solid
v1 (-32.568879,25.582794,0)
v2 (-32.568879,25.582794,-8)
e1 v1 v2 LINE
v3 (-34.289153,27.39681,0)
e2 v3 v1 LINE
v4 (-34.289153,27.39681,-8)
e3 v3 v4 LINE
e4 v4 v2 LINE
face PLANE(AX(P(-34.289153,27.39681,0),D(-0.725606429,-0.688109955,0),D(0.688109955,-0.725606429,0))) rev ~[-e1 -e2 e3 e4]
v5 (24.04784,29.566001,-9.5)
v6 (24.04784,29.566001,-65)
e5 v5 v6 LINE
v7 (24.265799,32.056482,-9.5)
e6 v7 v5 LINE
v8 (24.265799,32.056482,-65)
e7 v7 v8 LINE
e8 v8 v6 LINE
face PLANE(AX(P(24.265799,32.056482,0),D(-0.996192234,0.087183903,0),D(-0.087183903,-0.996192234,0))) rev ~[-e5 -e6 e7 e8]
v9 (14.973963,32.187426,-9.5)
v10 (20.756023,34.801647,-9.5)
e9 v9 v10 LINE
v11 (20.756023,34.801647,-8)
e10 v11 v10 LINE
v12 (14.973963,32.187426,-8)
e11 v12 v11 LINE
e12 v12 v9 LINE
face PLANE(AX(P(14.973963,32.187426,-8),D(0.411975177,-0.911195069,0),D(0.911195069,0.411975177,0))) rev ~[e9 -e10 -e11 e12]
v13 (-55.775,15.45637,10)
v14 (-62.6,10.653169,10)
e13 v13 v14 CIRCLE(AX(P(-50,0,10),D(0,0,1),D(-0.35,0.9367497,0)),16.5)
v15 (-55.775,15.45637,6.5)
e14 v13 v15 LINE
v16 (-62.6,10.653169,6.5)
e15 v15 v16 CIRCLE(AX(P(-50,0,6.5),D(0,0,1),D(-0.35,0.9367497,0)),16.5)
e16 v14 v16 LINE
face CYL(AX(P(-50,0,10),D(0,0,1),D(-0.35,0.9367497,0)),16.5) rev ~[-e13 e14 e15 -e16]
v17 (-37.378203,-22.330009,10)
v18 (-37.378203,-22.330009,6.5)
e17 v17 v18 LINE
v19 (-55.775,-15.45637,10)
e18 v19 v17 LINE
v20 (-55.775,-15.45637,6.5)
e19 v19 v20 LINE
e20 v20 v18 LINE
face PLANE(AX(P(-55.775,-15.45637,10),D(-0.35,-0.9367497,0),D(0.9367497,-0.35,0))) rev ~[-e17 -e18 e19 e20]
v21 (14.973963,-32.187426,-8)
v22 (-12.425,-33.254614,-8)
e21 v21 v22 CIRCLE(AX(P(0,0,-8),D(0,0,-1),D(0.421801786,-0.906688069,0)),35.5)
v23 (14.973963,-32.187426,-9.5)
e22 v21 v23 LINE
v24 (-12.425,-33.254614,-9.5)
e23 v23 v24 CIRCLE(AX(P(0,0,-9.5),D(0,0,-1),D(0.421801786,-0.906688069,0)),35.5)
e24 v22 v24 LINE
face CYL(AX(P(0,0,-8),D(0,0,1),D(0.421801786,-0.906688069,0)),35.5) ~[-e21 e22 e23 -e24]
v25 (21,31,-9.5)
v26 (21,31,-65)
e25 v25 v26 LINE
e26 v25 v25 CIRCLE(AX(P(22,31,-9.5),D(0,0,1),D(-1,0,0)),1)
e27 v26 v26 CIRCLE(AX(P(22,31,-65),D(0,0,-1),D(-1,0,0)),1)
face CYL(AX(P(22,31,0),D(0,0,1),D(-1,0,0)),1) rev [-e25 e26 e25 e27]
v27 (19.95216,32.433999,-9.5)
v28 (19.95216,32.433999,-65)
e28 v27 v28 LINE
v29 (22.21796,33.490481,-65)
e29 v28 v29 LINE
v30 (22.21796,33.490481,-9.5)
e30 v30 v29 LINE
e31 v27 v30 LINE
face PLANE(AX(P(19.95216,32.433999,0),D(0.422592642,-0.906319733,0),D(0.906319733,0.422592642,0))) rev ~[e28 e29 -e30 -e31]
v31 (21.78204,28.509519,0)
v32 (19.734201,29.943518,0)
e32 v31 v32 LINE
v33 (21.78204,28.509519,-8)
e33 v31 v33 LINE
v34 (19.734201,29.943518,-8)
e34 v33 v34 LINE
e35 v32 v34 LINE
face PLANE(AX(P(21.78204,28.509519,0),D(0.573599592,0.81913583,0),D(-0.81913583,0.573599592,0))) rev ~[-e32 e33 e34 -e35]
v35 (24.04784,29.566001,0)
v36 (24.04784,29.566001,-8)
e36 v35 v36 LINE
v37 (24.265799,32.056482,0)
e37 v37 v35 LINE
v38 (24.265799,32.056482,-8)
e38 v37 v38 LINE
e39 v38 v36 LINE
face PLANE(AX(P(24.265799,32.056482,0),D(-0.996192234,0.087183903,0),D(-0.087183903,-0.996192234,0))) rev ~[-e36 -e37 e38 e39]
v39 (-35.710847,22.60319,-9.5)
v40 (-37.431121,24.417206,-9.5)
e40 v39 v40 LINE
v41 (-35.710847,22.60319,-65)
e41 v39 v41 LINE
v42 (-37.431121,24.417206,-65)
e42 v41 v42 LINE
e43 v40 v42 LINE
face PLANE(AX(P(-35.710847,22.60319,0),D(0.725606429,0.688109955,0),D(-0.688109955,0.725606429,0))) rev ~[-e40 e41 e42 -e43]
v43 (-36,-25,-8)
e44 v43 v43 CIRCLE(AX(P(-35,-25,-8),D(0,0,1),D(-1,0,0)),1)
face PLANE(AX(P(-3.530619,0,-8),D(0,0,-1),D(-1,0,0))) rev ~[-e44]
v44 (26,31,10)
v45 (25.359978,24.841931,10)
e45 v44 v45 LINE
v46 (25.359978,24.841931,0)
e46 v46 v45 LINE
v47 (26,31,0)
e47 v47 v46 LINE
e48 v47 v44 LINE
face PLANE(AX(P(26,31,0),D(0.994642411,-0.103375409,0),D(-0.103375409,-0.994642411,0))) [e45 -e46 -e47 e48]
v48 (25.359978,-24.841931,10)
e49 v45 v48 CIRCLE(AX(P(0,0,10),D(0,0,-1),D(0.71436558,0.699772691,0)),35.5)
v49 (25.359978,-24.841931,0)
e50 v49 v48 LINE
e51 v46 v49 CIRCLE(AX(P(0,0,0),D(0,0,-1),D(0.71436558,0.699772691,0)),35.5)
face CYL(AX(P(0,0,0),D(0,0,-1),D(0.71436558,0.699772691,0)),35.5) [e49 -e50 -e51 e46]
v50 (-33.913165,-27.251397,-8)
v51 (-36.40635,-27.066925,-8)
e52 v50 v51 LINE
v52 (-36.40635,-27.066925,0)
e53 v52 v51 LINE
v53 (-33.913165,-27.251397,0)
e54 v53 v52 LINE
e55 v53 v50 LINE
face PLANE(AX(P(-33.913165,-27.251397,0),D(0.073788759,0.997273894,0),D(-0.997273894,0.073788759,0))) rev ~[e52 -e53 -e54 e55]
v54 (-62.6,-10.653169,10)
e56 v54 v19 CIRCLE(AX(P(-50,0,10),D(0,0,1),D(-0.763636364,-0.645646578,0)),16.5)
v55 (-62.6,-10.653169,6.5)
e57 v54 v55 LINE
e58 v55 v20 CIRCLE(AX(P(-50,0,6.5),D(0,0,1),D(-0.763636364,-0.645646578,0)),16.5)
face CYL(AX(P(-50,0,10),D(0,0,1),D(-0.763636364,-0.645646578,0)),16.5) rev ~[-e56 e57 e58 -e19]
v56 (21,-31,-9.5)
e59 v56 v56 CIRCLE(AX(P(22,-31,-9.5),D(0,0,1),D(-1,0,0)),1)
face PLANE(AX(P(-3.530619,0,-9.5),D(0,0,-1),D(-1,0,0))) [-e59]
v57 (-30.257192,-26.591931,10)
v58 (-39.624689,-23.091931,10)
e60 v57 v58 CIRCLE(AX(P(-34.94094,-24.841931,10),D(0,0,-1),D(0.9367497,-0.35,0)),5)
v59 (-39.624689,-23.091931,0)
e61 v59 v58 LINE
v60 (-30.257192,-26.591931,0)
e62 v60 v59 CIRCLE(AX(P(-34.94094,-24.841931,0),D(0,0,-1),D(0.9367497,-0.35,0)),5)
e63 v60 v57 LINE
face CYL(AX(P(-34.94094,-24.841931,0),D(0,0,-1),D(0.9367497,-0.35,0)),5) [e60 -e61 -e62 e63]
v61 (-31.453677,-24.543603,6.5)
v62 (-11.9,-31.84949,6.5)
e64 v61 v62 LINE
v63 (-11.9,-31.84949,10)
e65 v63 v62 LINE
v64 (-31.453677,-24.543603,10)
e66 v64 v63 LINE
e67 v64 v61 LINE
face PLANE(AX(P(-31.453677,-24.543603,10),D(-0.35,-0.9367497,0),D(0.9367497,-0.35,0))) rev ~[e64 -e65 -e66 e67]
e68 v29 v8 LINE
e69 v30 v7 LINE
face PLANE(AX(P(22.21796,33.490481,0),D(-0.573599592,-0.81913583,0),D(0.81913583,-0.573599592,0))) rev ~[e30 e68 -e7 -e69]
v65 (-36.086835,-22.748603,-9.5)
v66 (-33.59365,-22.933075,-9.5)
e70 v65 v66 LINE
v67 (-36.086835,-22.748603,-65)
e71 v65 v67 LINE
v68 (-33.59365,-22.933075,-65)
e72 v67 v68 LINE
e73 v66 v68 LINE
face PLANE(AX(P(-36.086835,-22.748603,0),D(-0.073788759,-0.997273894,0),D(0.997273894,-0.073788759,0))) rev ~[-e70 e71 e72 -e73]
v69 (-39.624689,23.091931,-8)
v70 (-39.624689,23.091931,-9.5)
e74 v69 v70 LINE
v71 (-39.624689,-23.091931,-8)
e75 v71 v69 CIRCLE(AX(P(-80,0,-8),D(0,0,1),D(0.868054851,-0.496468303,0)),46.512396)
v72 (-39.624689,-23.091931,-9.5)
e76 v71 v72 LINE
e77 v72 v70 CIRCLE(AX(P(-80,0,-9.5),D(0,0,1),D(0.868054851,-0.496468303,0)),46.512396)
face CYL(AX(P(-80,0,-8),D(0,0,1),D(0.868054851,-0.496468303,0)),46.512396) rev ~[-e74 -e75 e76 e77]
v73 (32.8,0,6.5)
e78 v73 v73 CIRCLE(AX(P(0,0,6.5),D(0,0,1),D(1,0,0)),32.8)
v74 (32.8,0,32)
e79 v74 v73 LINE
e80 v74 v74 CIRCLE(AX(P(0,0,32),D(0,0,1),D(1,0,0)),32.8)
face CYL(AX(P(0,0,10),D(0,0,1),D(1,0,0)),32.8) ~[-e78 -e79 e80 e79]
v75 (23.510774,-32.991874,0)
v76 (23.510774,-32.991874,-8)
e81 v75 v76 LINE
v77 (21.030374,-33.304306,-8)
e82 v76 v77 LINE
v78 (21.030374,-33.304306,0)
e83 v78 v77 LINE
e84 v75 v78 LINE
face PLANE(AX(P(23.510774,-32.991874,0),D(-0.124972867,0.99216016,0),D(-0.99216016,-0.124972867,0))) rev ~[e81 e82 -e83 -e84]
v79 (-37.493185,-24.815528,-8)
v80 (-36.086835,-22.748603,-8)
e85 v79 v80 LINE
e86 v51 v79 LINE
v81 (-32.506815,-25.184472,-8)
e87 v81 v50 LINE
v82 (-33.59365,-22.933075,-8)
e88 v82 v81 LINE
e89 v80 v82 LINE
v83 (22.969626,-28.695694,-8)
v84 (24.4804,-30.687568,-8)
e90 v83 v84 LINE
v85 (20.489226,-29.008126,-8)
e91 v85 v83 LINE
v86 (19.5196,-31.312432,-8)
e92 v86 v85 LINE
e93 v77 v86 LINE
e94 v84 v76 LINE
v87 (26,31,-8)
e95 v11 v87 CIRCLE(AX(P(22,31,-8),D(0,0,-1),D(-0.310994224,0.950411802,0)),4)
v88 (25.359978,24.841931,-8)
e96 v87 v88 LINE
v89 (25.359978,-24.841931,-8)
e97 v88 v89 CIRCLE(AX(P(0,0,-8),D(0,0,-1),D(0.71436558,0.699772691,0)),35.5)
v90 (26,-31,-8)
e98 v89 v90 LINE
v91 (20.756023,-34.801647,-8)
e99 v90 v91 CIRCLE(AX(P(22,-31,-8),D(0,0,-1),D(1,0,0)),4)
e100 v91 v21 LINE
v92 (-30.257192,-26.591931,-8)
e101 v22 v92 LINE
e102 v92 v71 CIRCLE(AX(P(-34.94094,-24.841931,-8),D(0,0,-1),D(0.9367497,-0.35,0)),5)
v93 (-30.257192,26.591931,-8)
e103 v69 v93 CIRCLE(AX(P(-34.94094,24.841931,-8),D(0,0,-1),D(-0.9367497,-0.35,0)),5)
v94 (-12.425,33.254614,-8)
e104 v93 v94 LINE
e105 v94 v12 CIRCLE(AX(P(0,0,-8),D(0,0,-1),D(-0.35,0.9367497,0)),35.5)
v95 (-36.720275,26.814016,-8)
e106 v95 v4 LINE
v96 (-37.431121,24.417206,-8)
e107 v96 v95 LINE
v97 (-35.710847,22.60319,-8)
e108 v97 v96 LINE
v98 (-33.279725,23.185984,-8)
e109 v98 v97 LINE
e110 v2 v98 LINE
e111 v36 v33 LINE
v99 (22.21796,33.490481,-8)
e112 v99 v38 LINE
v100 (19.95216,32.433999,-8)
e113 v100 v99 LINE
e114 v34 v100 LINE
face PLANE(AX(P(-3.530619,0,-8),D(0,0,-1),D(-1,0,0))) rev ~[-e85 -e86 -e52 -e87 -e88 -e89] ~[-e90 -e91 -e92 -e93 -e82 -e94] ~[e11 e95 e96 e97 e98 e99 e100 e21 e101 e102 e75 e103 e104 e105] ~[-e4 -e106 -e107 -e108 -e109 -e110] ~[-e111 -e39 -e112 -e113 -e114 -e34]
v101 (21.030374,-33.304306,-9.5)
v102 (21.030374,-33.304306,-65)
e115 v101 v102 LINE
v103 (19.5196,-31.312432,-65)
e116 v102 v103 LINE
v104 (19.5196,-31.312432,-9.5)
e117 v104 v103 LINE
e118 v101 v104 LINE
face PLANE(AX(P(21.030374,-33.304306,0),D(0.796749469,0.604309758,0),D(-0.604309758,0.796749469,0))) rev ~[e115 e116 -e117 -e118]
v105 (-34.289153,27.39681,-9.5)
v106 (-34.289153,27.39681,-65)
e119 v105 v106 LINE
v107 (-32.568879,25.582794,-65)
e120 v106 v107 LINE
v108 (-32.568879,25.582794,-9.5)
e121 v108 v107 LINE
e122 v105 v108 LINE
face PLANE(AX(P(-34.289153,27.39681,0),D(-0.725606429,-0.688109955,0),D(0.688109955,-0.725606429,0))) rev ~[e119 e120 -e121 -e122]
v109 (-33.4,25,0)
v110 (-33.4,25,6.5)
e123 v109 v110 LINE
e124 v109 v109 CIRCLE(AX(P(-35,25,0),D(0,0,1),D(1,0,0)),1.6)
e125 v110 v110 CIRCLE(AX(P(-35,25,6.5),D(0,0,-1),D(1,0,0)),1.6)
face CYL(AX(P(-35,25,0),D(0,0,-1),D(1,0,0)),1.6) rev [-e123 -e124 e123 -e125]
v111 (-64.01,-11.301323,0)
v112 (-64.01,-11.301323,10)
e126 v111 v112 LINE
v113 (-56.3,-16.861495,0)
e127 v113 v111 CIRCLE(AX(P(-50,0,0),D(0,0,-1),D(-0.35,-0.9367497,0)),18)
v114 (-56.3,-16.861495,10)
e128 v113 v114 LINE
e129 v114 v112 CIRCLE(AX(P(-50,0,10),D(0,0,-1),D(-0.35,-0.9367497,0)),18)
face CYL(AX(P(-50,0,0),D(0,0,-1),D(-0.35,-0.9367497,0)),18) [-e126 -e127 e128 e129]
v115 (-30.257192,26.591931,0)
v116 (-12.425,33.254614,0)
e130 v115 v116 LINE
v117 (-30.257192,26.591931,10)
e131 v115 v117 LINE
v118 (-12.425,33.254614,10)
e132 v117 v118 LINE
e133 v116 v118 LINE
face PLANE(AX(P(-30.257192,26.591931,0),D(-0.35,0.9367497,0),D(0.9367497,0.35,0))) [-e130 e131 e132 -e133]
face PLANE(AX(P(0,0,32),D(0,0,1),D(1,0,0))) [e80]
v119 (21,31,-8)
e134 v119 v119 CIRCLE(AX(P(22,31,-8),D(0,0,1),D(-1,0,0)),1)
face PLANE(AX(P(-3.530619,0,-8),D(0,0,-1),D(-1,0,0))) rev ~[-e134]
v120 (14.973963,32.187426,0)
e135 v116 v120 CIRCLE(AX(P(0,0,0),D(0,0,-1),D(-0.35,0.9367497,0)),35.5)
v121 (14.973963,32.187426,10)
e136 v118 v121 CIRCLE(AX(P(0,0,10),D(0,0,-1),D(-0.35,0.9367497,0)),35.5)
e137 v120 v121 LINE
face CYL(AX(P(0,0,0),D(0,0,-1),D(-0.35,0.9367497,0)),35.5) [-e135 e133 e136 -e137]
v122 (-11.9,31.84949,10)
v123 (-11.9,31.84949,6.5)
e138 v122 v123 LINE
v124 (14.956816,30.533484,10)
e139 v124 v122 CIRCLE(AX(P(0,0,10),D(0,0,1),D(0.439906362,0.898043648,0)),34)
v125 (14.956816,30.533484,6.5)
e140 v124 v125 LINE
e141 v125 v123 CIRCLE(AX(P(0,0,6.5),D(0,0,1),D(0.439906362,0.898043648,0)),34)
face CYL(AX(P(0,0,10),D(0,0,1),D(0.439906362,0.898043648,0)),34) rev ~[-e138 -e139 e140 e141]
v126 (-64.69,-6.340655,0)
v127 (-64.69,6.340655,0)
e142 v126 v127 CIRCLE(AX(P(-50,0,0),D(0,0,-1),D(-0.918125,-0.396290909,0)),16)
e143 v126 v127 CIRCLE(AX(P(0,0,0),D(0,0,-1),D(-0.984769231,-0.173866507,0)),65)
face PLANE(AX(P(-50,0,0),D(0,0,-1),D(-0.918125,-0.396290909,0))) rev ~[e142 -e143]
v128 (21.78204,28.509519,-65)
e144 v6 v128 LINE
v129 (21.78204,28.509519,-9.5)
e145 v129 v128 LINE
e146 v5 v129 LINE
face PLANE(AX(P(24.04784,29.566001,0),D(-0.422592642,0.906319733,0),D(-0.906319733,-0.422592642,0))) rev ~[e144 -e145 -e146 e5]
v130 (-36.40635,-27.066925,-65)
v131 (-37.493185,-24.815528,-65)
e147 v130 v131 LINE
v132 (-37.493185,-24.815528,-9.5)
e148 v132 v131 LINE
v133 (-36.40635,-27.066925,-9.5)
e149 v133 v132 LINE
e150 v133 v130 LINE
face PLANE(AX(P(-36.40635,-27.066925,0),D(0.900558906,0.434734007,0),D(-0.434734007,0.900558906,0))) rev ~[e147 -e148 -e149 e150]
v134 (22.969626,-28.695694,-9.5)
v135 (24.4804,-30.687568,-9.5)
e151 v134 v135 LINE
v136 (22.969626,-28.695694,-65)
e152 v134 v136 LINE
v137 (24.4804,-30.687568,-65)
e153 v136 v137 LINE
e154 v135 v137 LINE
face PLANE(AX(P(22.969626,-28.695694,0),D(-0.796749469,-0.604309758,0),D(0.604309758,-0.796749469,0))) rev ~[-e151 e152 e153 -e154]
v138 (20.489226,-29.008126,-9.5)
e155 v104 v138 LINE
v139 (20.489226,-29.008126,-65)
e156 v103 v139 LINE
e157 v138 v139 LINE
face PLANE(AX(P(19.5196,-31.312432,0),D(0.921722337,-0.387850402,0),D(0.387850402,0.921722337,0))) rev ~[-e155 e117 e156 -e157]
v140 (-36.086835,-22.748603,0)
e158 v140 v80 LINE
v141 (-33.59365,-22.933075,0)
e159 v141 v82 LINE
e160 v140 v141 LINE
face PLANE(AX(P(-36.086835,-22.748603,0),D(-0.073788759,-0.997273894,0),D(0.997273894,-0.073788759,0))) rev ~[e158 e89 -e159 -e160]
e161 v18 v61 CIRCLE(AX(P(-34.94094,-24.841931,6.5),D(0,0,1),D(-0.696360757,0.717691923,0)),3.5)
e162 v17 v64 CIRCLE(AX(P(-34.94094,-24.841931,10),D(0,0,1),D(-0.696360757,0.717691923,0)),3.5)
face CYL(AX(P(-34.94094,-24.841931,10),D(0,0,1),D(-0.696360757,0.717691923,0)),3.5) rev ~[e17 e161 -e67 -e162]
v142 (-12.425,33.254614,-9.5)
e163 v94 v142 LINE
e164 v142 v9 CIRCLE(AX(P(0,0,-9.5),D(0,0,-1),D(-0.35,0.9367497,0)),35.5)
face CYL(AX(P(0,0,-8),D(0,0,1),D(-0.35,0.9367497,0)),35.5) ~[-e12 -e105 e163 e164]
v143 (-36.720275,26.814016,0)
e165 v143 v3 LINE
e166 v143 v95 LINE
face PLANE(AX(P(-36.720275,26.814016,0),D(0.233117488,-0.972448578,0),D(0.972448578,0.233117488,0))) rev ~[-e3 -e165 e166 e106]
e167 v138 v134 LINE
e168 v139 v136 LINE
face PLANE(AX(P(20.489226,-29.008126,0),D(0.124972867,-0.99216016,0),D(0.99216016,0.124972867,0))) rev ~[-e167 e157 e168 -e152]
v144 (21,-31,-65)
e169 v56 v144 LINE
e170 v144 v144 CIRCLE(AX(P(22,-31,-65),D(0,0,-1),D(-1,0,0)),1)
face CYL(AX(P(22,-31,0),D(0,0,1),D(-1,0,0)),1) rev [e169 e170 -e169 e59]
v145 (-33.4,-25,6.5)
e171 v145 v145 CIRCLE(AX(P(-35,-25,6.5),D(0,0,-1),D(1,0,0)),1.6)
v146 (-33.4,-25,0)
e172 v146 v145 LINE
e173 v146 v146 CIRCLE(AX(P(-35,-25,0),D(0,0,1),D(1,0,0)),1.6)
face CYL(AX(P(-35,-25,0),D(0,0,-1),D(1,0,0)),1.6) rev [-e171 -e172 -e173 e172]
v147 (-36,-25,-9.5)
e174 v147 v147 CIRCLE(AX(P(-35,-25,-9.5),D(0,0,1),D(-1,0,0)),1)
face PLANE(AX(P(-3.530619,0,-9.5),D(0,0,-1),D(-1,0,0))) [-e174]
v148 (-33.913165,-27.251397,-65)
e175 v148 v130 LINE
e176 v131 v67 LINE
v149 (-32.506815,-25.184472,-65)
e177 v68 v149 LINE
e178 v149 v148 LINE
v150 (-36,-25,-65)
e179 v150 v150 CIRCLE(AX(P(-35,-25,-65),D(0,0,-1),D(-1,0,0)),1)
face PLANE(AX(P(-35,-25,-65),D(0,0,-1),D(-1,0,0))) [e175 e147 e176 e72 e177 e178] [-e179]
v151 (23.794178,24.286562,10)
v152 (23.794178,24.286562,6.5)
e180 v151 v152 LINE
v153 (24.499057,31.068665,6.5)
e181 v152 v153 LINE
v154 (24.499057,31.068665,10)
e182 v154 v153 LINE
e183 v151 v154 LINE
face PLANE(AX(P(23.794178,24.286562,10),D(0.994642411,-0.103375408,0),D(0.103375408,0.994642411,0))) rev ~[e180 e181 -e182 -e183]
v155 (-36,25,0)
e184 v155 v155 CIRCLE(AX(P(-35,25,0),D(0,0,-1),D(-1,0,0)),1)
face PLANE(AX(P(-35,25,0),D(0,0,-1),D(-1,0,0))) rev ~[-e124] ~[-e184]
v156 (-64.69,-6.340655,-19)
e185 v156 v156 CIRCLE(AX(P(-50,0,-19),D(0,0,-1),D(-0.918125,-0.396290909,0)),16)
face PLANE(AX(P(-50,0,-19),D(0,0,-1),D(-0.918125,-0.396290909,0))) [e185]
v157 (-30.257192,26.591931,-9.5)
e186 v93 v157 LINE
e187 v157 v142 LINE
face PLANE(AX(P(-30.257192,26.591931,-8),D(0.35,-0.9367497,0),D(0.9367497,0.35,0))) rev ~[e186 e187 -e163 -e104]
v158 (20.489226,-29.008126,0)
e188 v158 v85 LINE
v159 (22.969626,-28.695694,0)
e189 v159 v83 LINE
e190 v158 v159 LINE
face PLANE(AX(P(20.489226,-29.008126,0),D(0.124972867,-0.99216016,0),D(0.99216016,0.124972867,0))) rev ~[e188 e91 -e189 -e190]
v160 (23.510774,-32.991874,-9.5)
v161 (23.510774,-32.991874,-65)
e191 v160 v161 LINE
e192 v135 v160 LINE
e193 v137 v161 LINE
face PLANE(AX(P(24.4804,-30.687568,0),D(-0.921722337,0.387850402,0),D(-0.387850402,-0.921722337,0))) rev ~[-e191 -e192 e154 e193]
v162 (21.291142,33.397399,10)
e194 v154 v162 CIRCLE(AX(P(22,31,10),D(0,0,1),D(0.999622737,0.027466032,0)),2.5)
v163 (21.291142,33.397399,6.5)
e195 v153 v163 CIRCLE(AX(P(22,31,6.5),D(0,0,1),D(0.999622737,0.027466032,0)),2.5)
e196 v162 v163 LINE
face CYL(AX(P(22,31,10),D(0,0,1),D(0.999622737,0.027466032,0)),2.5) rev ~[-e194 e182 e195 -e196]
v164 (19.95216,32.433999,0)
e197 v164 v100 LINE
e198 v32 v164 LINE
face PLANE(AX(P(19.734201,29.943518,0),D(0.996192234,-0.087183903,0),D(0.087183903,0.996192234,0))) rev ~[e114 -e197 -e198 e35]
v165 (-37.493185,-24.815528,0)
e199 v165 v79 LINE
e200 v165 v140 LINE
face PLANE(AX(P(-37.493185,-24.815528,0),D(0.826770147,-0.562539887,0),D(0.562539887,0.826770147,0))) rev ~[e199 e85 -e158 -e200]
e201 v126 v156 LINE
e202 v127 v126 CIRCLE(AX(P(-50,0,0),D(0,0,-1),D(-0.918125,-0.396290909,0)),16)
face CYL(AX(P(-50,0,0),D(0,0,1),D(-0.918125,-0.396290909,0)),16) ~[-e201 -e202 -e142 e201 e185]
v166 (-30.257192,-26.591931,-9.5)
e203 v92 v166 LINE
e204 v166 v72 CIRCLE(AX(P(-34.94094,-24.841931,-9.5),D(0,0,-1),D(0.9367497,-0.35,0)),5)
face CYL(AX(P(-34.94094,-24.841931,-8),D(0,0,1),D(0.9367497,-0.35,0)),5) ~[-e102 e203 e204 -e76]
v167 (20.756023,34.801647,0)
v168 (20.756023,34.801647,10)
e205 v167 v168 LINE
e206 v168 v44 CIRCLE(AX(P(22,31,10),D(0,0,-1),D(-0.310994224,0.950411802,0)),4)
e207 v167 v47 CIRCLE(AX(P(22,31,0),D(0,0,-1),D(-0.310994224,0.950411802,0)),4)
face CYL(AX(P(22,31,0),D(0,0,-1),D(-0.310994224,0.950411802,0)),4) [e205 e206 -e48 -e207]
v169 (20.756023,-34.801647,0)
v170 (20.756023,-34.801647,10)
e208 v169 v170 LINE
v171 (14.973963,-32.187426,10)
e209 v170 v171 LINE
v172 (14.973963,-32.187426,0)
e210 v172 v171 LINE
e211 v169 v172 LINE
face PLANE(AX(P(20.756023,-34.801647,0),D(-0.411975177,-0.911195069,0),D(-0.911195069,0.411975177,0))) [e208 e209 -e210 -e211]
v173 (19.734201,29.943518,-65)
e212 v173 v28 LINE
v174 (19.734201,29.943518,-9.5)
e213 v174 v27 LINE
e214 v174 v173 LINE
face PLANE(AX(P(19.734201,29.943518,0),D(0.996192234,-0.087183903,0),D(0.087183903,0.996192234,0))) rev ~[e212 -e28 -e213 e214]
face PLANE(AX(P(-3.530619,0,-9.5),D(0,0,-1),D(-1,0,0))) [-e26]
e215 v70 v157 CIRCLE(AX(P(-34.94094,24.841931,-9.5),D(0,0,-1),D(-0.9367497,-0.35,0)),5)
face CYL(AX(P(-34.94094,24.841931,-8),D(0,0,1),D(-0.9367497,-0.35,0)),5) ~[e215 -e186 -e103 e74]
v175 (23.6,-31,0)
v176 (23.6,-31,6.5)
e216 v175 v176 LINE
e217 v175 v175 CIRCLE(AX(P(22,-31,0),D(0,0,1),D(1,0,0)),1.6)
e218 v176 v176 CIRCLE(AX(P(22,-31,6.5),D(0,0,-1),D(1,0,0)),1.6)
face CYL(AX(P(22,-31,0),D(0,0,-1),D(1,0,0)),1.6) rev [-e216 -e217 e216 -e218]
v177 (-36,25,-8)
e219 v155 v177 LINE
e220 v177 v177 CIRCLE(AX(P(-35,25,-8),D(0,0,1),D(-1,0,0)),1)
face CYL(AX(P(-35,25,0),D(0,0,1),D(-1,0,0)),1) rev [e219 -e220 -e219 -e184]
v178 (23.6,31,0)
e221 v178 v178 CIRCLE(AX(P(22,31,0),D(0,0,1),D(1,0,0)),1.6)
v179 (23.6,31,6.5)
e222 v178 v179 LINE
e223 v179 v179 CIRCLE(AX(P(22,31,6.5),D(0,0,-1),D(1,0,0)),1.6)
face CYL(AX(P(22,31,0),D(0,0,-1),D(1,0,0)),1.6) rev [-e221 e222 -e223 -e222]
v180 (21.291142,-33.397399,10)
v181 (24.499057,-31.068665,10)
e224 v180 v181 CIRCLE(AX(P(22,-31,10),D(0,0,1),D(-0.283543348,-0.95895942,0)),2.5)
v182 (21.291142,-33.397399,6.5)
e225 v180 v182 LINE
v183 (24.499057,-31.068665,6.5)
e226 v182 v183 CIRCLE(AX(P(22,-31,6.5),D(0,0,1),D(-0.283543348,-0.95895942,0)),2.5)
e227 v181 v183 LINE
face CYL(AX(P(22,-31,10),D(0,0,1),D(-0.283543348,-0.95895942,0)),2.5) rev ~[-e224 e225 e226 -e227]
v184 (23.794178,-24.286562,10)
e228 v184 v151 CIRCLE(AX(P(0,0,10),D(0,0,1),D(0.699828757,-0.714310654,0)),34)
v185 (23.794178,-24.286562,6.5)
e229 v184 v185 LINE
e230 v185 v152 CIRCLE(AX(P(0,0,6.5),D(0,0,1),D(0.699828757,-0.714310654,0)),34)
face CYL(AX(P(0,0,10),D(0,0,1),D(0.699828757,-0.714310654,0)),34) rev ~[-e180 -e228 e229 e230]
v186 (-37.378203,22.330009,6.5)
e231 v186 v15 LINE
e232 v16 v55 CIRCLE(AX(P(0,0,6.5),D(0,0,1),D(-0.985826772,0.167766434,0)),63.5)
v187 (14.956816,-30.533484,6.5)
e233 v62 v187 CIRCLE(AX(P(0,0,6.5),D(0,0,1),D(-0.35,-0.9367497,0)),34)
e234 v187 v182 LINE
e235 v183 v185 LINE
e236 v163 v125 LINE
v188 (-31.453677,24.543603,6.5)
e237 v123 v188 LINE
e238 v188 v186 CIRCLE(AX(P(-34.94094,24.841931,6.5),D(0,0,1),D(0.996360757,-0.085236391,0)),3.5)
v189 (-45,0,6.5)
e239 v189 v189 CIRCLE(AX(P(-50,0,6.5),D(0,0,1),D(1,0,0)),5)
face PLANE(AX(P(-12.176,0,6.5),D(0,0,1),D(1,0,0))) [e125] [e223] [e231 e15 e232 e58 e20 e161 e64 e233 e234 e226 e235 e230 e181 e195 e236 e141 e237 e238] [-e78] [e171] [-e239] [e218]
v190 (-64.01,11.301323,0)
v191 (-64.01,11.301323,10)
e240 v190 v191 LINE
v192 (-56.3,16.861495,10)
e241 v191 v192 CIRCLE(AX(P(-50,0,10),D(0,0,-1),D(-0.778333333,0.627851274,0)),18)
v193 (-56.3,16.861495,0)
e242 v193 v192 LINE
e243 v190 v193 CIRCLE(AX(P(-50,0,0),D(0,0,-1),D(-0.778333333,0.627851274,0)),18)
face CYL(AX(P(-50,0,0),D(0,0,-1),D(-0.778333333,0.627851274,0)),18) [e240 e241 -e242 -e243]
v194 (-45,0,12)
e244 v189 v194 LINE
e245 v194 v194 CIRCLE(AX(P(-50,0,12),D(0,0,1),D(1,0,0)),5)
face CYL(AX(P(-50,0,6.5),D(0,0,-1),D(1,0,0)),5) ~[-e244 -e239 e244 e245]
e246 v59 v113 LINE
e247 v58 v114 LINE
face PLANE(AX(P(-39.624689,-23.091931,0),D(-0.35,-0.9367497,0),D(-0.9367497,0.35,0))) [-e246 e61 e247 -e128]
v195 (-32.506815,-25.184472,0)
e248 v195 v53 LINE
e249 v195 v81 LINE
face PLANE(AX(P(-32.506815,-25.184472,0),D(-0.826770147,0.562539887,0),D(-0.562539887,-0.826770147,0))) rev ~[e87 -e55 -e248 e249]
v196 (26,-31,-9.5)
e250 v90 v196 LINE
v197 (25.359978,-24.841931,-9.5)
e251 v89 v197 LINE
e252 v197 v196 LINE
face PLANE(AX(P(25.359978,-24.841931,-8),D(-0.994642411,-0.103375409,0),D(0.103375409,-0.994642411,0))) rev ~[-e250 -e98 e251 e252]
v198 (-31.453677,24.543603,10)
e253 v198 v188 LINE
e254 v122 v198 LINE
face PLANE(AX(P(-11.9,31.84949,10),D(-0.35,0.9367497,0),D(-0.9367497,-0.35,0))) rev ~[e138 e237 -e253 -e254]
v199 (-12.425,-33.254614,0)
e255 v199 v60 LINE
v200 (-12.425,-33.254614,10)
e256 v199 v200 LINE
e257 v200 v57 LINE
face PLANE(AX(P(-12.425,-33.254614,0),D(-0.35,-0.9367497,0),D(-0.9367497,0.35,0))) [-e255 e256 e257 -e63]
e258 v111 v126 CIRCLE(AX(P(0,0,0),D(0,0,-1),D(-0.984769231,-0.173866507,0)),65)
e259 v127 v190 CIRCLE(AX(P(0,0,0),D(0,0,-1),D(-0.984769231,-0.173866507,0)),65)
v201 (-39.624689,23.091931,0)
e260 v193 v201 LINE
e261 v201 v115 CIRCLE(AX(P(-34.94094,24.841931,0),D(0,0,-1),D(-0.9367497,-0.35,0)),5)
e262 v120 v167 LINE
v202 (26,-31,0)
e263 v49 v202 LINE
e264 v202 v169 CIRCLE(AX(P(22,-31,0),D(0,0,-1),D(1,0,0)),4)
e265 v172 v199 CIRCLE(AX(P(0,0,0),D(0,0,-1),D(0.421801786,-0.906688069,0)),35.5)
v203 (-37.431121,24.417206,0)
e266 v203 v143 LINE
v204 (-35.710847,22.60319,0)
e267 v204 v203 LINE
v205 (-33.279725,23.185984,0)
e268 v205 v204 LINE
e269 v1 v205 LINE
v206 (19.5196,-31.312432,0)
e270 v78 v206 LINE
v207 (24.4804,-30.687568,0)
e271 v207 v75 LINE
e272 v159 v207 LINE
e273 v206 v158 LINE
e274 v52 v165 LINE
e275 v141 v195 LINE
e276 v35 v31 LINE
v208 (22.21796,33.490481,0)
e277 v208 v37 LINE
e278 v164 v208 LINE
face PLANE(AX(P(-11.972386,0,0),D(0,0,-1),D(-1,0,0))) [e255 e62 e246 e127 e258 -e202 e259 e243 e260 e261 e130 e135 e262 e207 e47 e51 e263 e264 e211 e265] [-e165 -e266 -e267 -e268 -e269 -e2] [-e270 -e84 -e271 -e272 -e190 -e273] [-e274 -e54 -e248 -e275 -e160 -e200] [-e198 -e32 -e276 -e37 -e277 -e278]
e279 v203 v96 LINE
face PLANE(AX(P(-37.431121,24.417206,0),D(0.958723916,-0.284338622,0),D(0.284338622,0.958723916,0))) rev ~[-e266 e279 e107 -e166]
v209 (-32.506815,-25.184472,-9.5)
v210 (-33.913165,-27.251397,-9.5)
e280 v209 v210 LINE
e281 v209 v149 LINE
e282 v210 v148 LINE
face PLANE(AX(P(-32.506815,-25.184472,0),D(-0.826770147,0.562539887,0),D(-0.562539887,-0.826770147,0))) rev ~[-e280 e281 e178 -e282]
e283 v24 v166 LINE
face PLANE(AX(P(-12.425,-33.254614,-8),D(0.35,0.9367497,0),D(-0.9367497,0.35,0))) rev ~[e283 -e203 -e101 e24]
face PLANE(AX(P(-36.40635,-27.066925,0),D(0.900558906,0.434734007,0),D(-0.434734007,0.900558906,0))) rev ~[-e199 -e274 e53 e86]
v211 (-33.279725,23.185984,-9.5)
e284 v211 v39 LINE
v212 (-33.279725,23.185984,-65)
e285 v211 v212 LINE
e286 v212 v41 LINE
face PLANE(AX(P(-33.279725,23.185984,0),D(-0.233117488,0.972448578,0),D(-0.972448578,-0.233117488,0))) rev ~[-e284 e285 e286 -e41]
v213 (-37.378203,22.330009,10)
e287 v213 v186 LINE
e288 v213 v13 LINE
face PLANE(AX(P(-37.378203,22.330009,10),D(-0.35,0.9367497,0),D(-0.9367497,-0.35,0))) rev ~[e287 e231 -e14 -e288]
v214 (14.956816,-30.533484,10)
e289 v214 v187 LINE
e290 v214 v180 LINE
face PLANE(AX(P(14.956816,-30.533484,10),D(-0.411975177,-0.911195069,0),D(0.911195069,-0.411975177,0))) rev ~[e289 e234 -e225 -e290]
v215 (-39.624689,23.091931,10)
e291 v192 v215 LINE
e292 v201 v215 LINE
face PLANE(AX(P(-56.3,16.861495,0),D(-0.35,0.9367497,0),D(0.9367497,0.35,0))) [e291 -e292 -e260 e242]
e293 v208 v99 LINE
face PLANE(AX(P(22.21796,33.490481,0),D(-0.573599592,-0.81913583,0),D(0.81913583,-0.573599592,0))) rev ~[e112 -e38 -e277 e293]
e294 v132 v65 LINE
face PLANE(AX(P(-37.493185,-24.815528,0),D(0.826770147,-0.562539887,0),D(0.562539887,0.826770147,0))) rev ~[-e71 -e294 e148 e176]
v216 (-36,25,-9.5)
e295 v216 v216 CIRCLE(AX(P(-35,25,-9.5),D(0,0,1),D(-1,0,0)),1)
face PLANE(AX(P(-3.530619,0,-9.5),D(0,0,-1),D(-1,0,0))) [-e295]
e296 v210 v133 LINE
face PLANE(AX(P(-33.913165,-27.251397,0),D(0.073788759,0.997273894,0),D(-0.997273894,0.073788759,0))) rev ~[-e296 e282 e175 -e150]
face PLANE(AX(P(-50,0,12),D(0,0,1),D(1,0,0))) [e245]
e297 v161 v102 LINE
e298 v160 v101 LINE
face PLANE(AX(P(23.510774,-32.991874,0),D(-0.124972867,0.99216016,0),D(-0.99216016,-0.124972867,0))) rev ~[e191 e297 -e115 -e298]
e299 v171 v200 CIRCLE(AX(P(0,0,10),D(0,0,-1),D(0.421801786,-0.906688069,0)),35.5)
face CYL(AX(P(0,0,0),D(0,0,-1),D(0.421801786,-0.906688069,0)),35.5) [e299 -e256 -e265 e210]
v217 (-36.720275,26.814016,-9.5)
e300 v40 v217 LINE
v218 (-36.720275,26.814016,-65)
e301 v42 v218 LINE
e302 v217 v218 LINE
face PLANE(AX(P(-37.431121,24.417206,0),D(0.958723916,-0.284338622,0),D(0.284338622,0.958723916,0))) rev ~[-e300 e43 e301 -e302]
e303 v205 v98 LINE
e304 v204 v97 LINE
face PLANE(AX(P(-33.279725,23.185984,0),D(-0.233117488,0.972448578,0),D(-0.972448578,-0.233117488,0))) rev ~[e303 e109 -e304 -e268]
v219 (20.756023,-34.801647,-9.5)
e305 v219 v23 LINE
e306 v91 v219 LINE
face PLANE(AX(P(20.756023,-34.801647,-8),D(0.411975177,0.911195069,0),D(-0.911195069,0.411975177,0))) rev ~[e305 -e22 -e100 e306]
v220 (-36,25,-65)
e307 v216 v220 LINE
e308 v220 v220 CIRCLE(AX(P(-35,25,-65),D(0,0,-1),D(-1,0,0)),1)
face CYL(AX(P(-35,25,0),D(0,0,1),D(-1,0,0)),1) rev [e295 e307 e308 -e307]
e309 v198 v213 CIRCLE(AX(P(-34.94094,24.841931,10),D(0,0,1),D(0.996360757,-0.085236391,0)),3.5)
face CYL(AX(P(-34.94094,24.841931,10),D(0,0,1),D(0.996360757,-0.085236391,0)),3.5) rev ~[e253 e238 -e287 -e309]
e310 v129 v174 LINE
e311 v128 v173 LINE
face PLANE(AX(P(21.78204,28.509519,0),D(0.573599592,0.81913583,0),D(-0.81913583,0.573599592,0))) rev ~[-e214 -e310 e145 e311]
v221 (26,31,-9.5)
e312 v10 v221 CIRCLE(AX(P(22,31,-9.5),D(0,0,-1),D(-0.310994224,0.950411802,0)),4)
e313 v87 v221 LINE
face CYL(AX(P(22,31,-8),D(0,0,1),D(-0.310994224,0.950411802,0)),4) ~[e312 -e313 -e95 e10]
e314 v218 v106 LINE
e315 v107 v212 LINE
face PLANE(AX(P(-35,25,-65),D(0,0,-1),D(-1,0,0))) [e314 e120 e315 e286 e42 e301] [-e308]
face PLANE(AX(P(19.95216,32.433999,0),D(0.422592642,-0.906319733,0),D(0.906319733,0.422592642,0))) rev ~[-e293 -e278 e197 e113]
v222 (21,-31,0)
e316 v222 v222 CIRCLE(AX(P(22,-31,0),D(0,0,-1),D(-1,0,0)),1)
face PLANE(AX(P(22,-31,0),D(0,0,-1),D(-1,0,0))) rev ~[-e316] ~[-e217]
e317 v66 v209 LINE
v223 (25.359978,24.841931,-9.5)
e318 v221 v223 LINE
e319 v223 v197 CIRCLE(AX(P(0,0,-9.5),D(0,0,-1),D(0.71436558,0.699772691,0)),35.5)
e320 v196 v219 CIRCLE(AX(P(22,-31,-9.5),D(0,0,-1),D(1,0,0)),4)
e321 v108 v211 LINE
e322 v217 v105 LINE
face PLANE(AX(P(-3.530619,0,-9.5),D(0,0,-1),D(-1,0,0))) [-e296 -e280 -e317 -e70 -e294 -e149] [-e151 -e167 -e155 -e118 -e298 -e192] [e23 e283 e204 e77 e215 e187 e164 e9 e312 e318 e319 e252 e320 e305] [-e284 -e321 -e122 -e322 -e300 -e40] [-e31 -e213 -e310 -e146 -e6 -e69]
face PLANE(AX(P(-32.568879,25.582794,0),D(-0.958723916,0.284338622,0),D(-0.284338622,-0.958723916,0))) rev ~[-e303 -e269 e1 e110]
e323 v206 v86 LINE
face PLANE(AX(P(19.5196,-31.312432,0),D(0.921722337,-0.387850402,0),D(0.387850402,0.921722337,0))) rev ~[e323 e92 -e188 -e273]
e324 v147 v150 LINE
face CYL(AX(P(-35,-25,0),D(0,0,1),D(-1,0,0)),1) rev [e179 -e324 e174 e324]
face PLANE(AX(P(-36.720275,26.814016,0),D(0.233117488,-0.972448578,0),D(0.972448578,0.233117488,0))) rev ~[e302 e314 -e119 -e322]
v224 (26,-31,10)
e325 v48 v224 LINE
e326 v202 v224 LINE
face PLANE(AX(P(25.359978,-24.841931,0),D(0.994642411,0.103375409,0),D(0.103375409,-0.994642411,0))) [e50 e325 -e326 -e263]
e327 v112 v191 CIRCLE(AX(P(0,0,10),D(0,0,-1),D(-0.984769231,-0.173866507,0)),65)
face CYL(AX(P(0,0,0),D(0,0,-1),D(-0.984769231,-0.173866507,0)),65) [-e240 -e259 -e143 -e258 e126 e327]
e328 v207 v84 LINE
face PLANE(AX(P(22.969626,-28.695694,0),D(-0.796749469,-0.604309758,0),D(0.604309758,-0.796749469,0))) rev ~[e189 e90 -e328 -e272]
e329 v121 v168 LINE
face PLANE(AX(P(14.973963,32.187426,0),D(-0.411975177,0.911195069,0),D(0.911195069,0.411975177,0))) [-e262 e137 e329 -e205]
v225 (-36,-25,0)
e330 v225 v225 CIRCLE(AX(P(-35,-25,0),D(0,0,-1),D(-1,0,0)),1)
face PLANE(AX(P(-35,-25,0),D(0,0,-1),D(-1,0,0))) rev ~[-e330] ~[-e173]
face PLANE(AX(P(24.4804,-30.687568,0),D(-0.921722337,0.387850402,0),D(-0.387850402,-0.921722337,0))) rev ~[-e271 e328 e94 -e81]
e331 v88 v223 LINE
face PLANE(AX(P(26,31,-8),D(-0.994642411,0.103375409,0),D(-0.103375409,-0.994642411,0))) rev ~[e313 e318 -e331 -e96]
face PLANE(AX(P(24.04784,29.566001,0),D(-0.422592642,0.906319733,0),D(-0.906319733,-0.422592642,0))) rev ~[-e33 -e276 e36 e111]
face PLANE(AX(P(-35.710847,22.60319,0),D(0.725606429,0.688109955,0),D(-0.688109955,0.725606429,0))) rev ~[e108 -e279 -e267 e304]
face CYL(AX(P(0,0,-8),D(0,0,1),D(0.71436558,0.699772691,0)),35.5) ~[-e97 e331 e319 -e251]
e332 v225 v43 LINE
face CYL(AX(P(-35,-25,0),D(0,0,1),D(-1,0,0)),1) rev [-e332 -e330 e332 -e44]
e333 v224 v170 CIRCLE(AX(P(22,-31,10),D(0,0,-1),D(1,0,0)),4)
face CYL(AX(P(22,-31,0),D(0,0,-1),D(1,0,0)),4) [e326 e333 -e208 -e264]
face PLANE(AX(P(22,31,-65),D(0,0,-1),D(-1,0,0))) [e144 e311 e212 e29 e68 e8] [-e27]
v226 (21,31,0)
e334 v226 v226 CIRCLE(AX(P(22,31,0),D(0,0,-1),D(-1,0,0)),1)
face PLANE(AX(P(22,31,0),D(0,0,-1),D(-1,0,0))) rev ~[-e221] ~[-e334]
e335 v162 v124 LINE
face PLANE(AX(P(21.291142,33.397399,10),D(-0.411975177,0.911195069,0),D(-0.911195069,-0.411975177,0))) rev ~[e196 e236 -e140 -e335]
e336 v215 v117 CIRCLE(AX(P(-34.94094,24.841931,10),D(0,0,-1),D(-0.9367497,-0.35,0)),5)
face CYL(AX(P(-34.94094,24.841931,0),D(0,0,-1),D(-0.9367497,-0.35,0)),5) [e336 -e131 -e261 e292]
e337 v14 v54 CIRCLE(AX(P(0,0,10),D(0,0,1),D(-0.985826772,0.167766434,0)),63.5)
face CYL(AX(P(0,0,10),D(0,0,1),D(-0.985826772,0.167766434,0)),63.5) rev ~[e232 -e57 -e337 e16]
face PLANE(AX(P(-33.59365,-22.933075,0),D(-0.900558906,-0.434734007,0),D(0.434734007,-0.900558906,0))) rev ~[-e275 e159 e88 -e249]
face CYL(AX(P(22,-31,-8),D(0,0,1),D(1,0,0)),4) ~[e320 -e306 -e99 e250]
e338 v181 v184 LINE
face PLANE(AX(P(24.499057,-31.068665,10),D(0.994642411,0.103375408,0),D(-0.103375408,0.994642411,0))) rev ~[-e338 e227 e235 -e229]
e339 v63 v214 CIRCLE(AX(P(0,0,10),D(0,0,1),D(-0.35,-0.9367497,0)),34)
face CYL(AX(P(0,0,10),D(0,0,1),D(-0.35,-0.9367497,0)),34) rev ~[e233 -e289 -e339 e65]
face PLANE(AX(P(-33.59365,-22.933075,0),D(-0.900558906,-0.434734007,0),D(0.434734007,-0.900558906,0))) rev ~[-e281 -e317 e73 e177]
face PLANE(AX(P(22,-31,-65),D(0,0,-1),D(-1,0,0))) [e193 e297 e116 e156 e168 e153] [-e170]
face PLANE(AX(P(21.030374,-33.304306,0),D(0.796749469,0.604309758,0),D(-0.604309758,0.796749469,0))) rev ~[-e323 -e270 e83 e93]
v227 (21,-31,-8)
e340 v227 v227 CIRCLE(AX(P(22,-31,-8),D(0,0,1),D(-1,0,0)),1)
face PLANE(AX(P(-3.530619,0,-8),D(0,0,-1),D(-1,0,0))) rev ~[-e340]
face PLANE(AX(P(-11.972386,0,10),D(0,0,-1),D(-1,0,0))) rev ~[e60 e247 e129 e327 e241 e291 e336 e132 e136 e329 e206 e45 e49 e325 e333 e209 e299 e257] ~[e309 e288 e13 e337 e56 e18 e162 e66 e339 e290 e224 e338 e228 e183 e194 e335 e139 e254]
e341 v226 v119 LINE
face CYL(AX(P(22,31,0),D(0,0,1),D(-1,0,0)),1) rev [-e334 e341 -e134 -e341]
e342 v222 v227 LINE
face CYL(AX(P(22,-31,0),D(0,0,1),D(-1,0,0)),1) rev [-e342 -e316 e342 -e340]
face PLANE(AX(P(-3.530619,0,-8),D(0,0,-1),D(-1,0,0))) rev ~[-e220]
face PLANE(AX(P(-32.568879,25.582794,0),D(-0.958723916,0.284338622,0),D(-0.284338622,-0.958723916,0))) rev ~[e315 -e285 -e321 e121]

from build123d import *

# Parameters (mm, degrees)
ESQUISSE1_R             = 1.6
BOSS_EXTRU_1_DEPTH      = 10
ESQUISSE2_R             = 32.8
BOSS_EXTRU_2_DEPTH      = 22
ENL_V_MAT_EXTRU_1_DEPTH = 3.5
BOSS_EXTRU_3_REACH      = 79.261
ESQUISSE4_R             = 32.8
ESQUISSE5_R             = 16
BOSS_EXTRU_4_DEPTH      = 19
ESQUISSE6_R             = 1
BOSS_EXTRU_5_DEPTH      = 65
BOSS_EXTRU_6_DEPTH      = 1.5
ESQUISSE8_R             = 5
BOSS_EXTRU_7_DEPTH      = 5.5


with BuildPart() as part:
    # Esquisse1 → Boss.-Extru.1 (new body)
    with BuildSketch(Plane.XY):
        with BuildLine():
            ThreePointArc((-56.3, -16.861494596), (-60.528670487, -14.599558136), (-64.01, -11.301322931))
            ThreePointArc((-64.01, -11.301322931), (-65, 0), (-64.01, 11.301322931))
            ThreePointArc((-64.01, 11.301322931), (-60.528670487, 14.599558136), (-56.3, 16.861494596))
            Line((-56.3, 16.861494596), (-39.624688626, 23.091930519))
            ThreePointArc((-39.624688626, 23.091930519), (-36.690940127, 29.525679018), (-30.257191628, 26.591930519))
            Line((-30.257191628, 26.591930519), (-12.425, 33.254614341))
            ThreePointArc((-12.425, 33.254614341), (1.381675102, 35.473102119), (14.973963383, 32.187426436))
            Line((14.973963383, 32.187426436), (20.756023105, 34.801647207))
            ThreePointArc((20.756023105, 34.801647207), (24.347774736, 34.238511045), (26, 31))
            Line((26, 31), (25.359978077, 24.841930519))
            ThreePointArc((25.359978077, 24.841930519), (35.5, 0), (25.359978077, -24.841930519))
            Line((25.359978077, -24.841930519), (26, -31))
            ThreePointArc((26, -31), (24.347774736, -34.238511045), (20.756023105, -34.801647207))
            Line((20.756023105, -34.801647207), (14.973963383, -32.187426436))
            ThreePointArc((14.973963383, -32.187426436), (1.381675102, -35.473102119), (-12.425, -33.254614341))
            Line((-12.425, -33.254614341), (-30.257191628, -26.591930519))
            ThreePointArc((-30.257191628, -26.591930519), (-36.690940127, -29.525679018), (-39.624688626, -23.091930519))
            Line((-39.624688626, -23.091930519), (-56.3, -16.861494596))
        make_face()
        with Locations((-35, -25)):
            Circle(ESQUISSE1_R, mode=Mode.SUBTRACT)
        with Locations((22, 31)):
            Circle(ESQUISSE1_R, mode=Mode.SUBTRACT)
        with Locations((-35, 25)):
            Circle(ESQUISSE1_R, mode=Mode.SUBTRACT)
        with Locations((22, -31)):
            Circle(ESQUISSE1_R, mode=Mode.SUBTRACT)
    extrude(amount=BOSS_EXTRU_1_DEPTH)

    # Esquisse2 → Boss.-Extru.2 (add)
    with BuildSketch(Plane.XY.offset(10)):
        Circle(ESQUISSE2_R)
    extrude(amount=BOSS_EXTRU_2_DEPTH)

    # Esquisse3 → Enlèv. mat.-Extru.1 (cut)
    with BuildSketch(Plane.XY.offset(10)):
        with BuildLine():
            Line((-55.775, -15.456370046), (-37.378202776, -22.330008789))
            ThreePointArc((-37.378202776, -22.330008789), (-36.165940127, -28.120554469), (-31.453677478, -24.543603151))
            Line((-31.453677478, -24.543603151), (-11.9, -31.849489792))
            ThreePointArc((-11.9, -31.849489792), (1.664031028, -33.959255009), (14.956816294, -30.533484019))
            Line((14.956816294, -30.533484019), (21.291141631, -33.397398551))
            ThreePointArc((21.291141631, -33.397398551), (23.468656713, -33.023128137), (24.499056843, -31.06866508))
            Line((24.499056843, -31.06866508), (23.79417774, -24.286562245))
            ThreePointArc((23.79417774, -24.286562245), (34, 0), (23.79417774, 24.286562245))
            Line((23.79417774, 24.286562245), (24.499056843, 31.06866508))
            ThreePointArc((24.499056843, 31.06866508), (23.468656713, 33.023128137), (21.291141631, 33.397398551))
            Line((21.291141631, 33.397398551), (14.956816294, 30.533484019))
            ThreePointArc((14.956816294, 30.533484019), (1.664031028, 33.959255009), (-11.9, 31.849489792))
            Line((-11.9, 31.849489792), (-31.453677478, 24.543603151))
            ThreePointArc((-31.453677478, 24.543603151), (-36.165940127, 28.120554469), (-37.378202776, 22.330008789))
            Line((-37.378202776, 22.330008789), (-55.775, 15.456370046))
            ThreePointArc((-55.775, 15.456370046), (-59.496201473, 13.493411636), (-62.6, 10.653168543))
            ThreePointArc((-62.6, 10.653168543), (-63.5, 0), (-62.6, -10.653168543))
            ThreePointArc((-62.6, -10.653168543), (-59.496201473, -13.493411636), (-55.775, -15.456370046))
        make_face()
    extrude(amount=-ENL_V_MAT_EXTRU_1_DEPTH, mode=Mode.SUBTRACT)


with BuildPart() as enl_v_mat_extru_1_piece_1:
    # of the separate pieces the step leaves, piece 1, a body of its own (enl_v_mat_extru_1_pieces)
    add(part.part.solids().sort_by_distance((32.8, 0, 10))[0])


with BuildPart() as enl_v_mat_extru_1_piece_2:
    # of the separate pieces the step leaves, piece 2, a body of its own (enl_v_mat_extru_1_pieces)
    add(part.part.solids().sort_by_distance((-64.01, 11.301322931, 0))[0])

    # Esquisse4 → Boss.-Extru.3 (add, up to next)
    with BuildSketch(Plane(origin=(0, 0, 10), x_dir=(-1, 0, 0), z_dir=(0, 0, -1)), mode=Mode.PRIVATE) as boss_extru_3_sk1:
        with Locations(Location((0, 0, 0), (0, 0, 180))):
            Circle(ESQUISSE4_R)
    boss_extru_3_tool1 = extrude(boss_extru_3_sk1.sketch, amount=BOSS_EXTRU_3_REACH, mode=Mode.PRIVATE) - enl_v_mat_extru_1_piece_2.part

    add(enl_v_mat_extru_1_piece_1.part)  # Boss.-Extru.3 merges Enlèv. mat.-Extru.1 piece 1
    add(boss_extru_3_tool1.solids().sort_by_distance((0, 0, 10))[0])

    # Esquisse5 → Boss.-Extru.4 (add)
    with BuildSketch(Plane(origin=(0, 0, 0), x_dir=(-1, 0, 0), z_dir=(0, 0, -1))):
        with Locations(Location((50, 0, 0), (0, 0, 336.653490915))):
            Circle(ESQUISSE5_R)
    extrude(amount=BOSS_EXTRU_4_DEPTH)

    # Esquisse6 → Boss.-Extru.5 (add)
    # profile 1 of 4: a face of its own
    with BuildSketch(Plane(origin=(0, 0, 0), x_dir=(-1, 0, 0), z_dir=(0, 0, -1))):
        Polygon((-20.489225606, -29.008126327), (-22.969626005, -28.695694159), (-24.480400399, -30.687567832), (-23.510774394, -32.991873673), (-21.030373995, -33.304305841), (-19.519599601, -31.312432168), align=None)
        with Locations((-22, -31)):
            Circle(ESQUISSE6_R, mode=Mode.SUBTRACT)
    # profile 2 of 4: a face of its own
    with BuildSketch(Plane(origin=(0, 0, 0), x_dir=(-1, 0, 0), z_dir=(0, 0, -1))):
        Polygon((36.086835018, -22.748602735), (33.593650283, -22.933074633), (32.506815266, -25.184471898), (33.913164982, -27.251397265), (36.406349717, -27.066925367), (37.493184734, -24.815528102), align=None)
        with Locations((35, -25)):
            Circle(ESQUISSE6_R, mode=Mode.SUBTRACT)
    # profile 3 of 4: a face of its own
    with BuildSketch(Plane(origin=(0, 0, 0), x_dir=(-1, 0, 0), z_dir=(0, 0, -1))):
        Polygon((36.720274889, 26.814016072), (34.289153443, 27.396809791), (32.568878555, 25.582793719), (33.279725111, 23.185983928), (35.710846557, 22.603190209), (37.431121445, 24.417206281), align=None)
        with Locations((35, 25)):
            Circle(ESQUISSE6_R, mode=Mode.SUBTRACT)
    # profile 4 of 4: a face of its own
    with BuildSketch(Plane(origin=(0, 0, 0), x_dir=(-1, 0, 0), z_dir=(0, 0, -1))):
        Polygon((-19.952160425, 32.43399898), (-22.217959758, 33.490480585), (-24.265799333, 32.056481605), (-24.047839575, 29.56600102), (-21.782040242, 28.509519415), (-19.734200667, 29.943518395), align=None)
        with Locations((-22, 31)):
            Circle(ESQUISSE6_R, mode=Mode.SUBTRACT)
    extrude(amount=BOSS_EXTRU_5_DEPTH)

    # Esquisse7 → Boss.-Extru.6 (add)
    with BuildSketch(Plane(origin=(0, 0, -8), x_dir=(-1, 0, 0), z_dir=(0, 0, -1))):
        with BuildLine():
            Line((30.257191628, 26.591930519), (12.425, 33.254614341))
            ThreePointArc((12.425, 33.254614341), (-1.381675102, 35.473102119), (-14.973963383, 32.187426436))
            Line((-14.973963383, 32.187426436), (-20.756023105, 34.801647207))
            ThreePointArc((-20.756023105, 34.801647207), (-24.347774736, 34.238511045), (-26, 31))
            Line((-26, 31), (-25.359978077, 24.841930519))
            ThreePointArc((-25.359978077, 24.841930519), (-35.5, 0), (-25.359978077, -24.841930519))
            Line((-25.359978077, -24.841930519), (-26, -31))
            ThreePointArc((-26, -31), (-24.347774736, -34.238511045), (-20.756023105, -34.801647207))
            Line((-20.756023105, -34.801647207), (-14.973963383, -32.187426436))
            ThreePointArc((-14.973963383, -32.187426436), (-1.381675102, -35.473102119), (12.425, -33.254614341))
            Line((12.425, -33.254614341), (30.257191628, -26.591930519))
            ThreePointArc((30.257191628, -26.591930519), (36.690940127, -29.525679018), (39.624688626, -23.091930519))
            ThreePointArc((39.624688626, -23.091930519), (33.487603548, 0), (39.624688626, 23.091930519))
            ThreePointArc((39.624688626, 23.091930519), (36.690940127, 29.525679018), (30.257191628, 26.591930519))
        make_face()
    extrude(amount=BOSS_EXTRU_6_DEPTH)

    # Esquisse8 → Boss.-Extru.7 (add)
    with BuildSketch(Plane.XY.offset(6.5)):
        with Locations((-50, 0)):
            Circle(ESQUISSE8_R)
    extrude(amount=BOSS_EXTRU_7_DEPTH)


solid = enl_v_mat_extru_1_piece_2.part
